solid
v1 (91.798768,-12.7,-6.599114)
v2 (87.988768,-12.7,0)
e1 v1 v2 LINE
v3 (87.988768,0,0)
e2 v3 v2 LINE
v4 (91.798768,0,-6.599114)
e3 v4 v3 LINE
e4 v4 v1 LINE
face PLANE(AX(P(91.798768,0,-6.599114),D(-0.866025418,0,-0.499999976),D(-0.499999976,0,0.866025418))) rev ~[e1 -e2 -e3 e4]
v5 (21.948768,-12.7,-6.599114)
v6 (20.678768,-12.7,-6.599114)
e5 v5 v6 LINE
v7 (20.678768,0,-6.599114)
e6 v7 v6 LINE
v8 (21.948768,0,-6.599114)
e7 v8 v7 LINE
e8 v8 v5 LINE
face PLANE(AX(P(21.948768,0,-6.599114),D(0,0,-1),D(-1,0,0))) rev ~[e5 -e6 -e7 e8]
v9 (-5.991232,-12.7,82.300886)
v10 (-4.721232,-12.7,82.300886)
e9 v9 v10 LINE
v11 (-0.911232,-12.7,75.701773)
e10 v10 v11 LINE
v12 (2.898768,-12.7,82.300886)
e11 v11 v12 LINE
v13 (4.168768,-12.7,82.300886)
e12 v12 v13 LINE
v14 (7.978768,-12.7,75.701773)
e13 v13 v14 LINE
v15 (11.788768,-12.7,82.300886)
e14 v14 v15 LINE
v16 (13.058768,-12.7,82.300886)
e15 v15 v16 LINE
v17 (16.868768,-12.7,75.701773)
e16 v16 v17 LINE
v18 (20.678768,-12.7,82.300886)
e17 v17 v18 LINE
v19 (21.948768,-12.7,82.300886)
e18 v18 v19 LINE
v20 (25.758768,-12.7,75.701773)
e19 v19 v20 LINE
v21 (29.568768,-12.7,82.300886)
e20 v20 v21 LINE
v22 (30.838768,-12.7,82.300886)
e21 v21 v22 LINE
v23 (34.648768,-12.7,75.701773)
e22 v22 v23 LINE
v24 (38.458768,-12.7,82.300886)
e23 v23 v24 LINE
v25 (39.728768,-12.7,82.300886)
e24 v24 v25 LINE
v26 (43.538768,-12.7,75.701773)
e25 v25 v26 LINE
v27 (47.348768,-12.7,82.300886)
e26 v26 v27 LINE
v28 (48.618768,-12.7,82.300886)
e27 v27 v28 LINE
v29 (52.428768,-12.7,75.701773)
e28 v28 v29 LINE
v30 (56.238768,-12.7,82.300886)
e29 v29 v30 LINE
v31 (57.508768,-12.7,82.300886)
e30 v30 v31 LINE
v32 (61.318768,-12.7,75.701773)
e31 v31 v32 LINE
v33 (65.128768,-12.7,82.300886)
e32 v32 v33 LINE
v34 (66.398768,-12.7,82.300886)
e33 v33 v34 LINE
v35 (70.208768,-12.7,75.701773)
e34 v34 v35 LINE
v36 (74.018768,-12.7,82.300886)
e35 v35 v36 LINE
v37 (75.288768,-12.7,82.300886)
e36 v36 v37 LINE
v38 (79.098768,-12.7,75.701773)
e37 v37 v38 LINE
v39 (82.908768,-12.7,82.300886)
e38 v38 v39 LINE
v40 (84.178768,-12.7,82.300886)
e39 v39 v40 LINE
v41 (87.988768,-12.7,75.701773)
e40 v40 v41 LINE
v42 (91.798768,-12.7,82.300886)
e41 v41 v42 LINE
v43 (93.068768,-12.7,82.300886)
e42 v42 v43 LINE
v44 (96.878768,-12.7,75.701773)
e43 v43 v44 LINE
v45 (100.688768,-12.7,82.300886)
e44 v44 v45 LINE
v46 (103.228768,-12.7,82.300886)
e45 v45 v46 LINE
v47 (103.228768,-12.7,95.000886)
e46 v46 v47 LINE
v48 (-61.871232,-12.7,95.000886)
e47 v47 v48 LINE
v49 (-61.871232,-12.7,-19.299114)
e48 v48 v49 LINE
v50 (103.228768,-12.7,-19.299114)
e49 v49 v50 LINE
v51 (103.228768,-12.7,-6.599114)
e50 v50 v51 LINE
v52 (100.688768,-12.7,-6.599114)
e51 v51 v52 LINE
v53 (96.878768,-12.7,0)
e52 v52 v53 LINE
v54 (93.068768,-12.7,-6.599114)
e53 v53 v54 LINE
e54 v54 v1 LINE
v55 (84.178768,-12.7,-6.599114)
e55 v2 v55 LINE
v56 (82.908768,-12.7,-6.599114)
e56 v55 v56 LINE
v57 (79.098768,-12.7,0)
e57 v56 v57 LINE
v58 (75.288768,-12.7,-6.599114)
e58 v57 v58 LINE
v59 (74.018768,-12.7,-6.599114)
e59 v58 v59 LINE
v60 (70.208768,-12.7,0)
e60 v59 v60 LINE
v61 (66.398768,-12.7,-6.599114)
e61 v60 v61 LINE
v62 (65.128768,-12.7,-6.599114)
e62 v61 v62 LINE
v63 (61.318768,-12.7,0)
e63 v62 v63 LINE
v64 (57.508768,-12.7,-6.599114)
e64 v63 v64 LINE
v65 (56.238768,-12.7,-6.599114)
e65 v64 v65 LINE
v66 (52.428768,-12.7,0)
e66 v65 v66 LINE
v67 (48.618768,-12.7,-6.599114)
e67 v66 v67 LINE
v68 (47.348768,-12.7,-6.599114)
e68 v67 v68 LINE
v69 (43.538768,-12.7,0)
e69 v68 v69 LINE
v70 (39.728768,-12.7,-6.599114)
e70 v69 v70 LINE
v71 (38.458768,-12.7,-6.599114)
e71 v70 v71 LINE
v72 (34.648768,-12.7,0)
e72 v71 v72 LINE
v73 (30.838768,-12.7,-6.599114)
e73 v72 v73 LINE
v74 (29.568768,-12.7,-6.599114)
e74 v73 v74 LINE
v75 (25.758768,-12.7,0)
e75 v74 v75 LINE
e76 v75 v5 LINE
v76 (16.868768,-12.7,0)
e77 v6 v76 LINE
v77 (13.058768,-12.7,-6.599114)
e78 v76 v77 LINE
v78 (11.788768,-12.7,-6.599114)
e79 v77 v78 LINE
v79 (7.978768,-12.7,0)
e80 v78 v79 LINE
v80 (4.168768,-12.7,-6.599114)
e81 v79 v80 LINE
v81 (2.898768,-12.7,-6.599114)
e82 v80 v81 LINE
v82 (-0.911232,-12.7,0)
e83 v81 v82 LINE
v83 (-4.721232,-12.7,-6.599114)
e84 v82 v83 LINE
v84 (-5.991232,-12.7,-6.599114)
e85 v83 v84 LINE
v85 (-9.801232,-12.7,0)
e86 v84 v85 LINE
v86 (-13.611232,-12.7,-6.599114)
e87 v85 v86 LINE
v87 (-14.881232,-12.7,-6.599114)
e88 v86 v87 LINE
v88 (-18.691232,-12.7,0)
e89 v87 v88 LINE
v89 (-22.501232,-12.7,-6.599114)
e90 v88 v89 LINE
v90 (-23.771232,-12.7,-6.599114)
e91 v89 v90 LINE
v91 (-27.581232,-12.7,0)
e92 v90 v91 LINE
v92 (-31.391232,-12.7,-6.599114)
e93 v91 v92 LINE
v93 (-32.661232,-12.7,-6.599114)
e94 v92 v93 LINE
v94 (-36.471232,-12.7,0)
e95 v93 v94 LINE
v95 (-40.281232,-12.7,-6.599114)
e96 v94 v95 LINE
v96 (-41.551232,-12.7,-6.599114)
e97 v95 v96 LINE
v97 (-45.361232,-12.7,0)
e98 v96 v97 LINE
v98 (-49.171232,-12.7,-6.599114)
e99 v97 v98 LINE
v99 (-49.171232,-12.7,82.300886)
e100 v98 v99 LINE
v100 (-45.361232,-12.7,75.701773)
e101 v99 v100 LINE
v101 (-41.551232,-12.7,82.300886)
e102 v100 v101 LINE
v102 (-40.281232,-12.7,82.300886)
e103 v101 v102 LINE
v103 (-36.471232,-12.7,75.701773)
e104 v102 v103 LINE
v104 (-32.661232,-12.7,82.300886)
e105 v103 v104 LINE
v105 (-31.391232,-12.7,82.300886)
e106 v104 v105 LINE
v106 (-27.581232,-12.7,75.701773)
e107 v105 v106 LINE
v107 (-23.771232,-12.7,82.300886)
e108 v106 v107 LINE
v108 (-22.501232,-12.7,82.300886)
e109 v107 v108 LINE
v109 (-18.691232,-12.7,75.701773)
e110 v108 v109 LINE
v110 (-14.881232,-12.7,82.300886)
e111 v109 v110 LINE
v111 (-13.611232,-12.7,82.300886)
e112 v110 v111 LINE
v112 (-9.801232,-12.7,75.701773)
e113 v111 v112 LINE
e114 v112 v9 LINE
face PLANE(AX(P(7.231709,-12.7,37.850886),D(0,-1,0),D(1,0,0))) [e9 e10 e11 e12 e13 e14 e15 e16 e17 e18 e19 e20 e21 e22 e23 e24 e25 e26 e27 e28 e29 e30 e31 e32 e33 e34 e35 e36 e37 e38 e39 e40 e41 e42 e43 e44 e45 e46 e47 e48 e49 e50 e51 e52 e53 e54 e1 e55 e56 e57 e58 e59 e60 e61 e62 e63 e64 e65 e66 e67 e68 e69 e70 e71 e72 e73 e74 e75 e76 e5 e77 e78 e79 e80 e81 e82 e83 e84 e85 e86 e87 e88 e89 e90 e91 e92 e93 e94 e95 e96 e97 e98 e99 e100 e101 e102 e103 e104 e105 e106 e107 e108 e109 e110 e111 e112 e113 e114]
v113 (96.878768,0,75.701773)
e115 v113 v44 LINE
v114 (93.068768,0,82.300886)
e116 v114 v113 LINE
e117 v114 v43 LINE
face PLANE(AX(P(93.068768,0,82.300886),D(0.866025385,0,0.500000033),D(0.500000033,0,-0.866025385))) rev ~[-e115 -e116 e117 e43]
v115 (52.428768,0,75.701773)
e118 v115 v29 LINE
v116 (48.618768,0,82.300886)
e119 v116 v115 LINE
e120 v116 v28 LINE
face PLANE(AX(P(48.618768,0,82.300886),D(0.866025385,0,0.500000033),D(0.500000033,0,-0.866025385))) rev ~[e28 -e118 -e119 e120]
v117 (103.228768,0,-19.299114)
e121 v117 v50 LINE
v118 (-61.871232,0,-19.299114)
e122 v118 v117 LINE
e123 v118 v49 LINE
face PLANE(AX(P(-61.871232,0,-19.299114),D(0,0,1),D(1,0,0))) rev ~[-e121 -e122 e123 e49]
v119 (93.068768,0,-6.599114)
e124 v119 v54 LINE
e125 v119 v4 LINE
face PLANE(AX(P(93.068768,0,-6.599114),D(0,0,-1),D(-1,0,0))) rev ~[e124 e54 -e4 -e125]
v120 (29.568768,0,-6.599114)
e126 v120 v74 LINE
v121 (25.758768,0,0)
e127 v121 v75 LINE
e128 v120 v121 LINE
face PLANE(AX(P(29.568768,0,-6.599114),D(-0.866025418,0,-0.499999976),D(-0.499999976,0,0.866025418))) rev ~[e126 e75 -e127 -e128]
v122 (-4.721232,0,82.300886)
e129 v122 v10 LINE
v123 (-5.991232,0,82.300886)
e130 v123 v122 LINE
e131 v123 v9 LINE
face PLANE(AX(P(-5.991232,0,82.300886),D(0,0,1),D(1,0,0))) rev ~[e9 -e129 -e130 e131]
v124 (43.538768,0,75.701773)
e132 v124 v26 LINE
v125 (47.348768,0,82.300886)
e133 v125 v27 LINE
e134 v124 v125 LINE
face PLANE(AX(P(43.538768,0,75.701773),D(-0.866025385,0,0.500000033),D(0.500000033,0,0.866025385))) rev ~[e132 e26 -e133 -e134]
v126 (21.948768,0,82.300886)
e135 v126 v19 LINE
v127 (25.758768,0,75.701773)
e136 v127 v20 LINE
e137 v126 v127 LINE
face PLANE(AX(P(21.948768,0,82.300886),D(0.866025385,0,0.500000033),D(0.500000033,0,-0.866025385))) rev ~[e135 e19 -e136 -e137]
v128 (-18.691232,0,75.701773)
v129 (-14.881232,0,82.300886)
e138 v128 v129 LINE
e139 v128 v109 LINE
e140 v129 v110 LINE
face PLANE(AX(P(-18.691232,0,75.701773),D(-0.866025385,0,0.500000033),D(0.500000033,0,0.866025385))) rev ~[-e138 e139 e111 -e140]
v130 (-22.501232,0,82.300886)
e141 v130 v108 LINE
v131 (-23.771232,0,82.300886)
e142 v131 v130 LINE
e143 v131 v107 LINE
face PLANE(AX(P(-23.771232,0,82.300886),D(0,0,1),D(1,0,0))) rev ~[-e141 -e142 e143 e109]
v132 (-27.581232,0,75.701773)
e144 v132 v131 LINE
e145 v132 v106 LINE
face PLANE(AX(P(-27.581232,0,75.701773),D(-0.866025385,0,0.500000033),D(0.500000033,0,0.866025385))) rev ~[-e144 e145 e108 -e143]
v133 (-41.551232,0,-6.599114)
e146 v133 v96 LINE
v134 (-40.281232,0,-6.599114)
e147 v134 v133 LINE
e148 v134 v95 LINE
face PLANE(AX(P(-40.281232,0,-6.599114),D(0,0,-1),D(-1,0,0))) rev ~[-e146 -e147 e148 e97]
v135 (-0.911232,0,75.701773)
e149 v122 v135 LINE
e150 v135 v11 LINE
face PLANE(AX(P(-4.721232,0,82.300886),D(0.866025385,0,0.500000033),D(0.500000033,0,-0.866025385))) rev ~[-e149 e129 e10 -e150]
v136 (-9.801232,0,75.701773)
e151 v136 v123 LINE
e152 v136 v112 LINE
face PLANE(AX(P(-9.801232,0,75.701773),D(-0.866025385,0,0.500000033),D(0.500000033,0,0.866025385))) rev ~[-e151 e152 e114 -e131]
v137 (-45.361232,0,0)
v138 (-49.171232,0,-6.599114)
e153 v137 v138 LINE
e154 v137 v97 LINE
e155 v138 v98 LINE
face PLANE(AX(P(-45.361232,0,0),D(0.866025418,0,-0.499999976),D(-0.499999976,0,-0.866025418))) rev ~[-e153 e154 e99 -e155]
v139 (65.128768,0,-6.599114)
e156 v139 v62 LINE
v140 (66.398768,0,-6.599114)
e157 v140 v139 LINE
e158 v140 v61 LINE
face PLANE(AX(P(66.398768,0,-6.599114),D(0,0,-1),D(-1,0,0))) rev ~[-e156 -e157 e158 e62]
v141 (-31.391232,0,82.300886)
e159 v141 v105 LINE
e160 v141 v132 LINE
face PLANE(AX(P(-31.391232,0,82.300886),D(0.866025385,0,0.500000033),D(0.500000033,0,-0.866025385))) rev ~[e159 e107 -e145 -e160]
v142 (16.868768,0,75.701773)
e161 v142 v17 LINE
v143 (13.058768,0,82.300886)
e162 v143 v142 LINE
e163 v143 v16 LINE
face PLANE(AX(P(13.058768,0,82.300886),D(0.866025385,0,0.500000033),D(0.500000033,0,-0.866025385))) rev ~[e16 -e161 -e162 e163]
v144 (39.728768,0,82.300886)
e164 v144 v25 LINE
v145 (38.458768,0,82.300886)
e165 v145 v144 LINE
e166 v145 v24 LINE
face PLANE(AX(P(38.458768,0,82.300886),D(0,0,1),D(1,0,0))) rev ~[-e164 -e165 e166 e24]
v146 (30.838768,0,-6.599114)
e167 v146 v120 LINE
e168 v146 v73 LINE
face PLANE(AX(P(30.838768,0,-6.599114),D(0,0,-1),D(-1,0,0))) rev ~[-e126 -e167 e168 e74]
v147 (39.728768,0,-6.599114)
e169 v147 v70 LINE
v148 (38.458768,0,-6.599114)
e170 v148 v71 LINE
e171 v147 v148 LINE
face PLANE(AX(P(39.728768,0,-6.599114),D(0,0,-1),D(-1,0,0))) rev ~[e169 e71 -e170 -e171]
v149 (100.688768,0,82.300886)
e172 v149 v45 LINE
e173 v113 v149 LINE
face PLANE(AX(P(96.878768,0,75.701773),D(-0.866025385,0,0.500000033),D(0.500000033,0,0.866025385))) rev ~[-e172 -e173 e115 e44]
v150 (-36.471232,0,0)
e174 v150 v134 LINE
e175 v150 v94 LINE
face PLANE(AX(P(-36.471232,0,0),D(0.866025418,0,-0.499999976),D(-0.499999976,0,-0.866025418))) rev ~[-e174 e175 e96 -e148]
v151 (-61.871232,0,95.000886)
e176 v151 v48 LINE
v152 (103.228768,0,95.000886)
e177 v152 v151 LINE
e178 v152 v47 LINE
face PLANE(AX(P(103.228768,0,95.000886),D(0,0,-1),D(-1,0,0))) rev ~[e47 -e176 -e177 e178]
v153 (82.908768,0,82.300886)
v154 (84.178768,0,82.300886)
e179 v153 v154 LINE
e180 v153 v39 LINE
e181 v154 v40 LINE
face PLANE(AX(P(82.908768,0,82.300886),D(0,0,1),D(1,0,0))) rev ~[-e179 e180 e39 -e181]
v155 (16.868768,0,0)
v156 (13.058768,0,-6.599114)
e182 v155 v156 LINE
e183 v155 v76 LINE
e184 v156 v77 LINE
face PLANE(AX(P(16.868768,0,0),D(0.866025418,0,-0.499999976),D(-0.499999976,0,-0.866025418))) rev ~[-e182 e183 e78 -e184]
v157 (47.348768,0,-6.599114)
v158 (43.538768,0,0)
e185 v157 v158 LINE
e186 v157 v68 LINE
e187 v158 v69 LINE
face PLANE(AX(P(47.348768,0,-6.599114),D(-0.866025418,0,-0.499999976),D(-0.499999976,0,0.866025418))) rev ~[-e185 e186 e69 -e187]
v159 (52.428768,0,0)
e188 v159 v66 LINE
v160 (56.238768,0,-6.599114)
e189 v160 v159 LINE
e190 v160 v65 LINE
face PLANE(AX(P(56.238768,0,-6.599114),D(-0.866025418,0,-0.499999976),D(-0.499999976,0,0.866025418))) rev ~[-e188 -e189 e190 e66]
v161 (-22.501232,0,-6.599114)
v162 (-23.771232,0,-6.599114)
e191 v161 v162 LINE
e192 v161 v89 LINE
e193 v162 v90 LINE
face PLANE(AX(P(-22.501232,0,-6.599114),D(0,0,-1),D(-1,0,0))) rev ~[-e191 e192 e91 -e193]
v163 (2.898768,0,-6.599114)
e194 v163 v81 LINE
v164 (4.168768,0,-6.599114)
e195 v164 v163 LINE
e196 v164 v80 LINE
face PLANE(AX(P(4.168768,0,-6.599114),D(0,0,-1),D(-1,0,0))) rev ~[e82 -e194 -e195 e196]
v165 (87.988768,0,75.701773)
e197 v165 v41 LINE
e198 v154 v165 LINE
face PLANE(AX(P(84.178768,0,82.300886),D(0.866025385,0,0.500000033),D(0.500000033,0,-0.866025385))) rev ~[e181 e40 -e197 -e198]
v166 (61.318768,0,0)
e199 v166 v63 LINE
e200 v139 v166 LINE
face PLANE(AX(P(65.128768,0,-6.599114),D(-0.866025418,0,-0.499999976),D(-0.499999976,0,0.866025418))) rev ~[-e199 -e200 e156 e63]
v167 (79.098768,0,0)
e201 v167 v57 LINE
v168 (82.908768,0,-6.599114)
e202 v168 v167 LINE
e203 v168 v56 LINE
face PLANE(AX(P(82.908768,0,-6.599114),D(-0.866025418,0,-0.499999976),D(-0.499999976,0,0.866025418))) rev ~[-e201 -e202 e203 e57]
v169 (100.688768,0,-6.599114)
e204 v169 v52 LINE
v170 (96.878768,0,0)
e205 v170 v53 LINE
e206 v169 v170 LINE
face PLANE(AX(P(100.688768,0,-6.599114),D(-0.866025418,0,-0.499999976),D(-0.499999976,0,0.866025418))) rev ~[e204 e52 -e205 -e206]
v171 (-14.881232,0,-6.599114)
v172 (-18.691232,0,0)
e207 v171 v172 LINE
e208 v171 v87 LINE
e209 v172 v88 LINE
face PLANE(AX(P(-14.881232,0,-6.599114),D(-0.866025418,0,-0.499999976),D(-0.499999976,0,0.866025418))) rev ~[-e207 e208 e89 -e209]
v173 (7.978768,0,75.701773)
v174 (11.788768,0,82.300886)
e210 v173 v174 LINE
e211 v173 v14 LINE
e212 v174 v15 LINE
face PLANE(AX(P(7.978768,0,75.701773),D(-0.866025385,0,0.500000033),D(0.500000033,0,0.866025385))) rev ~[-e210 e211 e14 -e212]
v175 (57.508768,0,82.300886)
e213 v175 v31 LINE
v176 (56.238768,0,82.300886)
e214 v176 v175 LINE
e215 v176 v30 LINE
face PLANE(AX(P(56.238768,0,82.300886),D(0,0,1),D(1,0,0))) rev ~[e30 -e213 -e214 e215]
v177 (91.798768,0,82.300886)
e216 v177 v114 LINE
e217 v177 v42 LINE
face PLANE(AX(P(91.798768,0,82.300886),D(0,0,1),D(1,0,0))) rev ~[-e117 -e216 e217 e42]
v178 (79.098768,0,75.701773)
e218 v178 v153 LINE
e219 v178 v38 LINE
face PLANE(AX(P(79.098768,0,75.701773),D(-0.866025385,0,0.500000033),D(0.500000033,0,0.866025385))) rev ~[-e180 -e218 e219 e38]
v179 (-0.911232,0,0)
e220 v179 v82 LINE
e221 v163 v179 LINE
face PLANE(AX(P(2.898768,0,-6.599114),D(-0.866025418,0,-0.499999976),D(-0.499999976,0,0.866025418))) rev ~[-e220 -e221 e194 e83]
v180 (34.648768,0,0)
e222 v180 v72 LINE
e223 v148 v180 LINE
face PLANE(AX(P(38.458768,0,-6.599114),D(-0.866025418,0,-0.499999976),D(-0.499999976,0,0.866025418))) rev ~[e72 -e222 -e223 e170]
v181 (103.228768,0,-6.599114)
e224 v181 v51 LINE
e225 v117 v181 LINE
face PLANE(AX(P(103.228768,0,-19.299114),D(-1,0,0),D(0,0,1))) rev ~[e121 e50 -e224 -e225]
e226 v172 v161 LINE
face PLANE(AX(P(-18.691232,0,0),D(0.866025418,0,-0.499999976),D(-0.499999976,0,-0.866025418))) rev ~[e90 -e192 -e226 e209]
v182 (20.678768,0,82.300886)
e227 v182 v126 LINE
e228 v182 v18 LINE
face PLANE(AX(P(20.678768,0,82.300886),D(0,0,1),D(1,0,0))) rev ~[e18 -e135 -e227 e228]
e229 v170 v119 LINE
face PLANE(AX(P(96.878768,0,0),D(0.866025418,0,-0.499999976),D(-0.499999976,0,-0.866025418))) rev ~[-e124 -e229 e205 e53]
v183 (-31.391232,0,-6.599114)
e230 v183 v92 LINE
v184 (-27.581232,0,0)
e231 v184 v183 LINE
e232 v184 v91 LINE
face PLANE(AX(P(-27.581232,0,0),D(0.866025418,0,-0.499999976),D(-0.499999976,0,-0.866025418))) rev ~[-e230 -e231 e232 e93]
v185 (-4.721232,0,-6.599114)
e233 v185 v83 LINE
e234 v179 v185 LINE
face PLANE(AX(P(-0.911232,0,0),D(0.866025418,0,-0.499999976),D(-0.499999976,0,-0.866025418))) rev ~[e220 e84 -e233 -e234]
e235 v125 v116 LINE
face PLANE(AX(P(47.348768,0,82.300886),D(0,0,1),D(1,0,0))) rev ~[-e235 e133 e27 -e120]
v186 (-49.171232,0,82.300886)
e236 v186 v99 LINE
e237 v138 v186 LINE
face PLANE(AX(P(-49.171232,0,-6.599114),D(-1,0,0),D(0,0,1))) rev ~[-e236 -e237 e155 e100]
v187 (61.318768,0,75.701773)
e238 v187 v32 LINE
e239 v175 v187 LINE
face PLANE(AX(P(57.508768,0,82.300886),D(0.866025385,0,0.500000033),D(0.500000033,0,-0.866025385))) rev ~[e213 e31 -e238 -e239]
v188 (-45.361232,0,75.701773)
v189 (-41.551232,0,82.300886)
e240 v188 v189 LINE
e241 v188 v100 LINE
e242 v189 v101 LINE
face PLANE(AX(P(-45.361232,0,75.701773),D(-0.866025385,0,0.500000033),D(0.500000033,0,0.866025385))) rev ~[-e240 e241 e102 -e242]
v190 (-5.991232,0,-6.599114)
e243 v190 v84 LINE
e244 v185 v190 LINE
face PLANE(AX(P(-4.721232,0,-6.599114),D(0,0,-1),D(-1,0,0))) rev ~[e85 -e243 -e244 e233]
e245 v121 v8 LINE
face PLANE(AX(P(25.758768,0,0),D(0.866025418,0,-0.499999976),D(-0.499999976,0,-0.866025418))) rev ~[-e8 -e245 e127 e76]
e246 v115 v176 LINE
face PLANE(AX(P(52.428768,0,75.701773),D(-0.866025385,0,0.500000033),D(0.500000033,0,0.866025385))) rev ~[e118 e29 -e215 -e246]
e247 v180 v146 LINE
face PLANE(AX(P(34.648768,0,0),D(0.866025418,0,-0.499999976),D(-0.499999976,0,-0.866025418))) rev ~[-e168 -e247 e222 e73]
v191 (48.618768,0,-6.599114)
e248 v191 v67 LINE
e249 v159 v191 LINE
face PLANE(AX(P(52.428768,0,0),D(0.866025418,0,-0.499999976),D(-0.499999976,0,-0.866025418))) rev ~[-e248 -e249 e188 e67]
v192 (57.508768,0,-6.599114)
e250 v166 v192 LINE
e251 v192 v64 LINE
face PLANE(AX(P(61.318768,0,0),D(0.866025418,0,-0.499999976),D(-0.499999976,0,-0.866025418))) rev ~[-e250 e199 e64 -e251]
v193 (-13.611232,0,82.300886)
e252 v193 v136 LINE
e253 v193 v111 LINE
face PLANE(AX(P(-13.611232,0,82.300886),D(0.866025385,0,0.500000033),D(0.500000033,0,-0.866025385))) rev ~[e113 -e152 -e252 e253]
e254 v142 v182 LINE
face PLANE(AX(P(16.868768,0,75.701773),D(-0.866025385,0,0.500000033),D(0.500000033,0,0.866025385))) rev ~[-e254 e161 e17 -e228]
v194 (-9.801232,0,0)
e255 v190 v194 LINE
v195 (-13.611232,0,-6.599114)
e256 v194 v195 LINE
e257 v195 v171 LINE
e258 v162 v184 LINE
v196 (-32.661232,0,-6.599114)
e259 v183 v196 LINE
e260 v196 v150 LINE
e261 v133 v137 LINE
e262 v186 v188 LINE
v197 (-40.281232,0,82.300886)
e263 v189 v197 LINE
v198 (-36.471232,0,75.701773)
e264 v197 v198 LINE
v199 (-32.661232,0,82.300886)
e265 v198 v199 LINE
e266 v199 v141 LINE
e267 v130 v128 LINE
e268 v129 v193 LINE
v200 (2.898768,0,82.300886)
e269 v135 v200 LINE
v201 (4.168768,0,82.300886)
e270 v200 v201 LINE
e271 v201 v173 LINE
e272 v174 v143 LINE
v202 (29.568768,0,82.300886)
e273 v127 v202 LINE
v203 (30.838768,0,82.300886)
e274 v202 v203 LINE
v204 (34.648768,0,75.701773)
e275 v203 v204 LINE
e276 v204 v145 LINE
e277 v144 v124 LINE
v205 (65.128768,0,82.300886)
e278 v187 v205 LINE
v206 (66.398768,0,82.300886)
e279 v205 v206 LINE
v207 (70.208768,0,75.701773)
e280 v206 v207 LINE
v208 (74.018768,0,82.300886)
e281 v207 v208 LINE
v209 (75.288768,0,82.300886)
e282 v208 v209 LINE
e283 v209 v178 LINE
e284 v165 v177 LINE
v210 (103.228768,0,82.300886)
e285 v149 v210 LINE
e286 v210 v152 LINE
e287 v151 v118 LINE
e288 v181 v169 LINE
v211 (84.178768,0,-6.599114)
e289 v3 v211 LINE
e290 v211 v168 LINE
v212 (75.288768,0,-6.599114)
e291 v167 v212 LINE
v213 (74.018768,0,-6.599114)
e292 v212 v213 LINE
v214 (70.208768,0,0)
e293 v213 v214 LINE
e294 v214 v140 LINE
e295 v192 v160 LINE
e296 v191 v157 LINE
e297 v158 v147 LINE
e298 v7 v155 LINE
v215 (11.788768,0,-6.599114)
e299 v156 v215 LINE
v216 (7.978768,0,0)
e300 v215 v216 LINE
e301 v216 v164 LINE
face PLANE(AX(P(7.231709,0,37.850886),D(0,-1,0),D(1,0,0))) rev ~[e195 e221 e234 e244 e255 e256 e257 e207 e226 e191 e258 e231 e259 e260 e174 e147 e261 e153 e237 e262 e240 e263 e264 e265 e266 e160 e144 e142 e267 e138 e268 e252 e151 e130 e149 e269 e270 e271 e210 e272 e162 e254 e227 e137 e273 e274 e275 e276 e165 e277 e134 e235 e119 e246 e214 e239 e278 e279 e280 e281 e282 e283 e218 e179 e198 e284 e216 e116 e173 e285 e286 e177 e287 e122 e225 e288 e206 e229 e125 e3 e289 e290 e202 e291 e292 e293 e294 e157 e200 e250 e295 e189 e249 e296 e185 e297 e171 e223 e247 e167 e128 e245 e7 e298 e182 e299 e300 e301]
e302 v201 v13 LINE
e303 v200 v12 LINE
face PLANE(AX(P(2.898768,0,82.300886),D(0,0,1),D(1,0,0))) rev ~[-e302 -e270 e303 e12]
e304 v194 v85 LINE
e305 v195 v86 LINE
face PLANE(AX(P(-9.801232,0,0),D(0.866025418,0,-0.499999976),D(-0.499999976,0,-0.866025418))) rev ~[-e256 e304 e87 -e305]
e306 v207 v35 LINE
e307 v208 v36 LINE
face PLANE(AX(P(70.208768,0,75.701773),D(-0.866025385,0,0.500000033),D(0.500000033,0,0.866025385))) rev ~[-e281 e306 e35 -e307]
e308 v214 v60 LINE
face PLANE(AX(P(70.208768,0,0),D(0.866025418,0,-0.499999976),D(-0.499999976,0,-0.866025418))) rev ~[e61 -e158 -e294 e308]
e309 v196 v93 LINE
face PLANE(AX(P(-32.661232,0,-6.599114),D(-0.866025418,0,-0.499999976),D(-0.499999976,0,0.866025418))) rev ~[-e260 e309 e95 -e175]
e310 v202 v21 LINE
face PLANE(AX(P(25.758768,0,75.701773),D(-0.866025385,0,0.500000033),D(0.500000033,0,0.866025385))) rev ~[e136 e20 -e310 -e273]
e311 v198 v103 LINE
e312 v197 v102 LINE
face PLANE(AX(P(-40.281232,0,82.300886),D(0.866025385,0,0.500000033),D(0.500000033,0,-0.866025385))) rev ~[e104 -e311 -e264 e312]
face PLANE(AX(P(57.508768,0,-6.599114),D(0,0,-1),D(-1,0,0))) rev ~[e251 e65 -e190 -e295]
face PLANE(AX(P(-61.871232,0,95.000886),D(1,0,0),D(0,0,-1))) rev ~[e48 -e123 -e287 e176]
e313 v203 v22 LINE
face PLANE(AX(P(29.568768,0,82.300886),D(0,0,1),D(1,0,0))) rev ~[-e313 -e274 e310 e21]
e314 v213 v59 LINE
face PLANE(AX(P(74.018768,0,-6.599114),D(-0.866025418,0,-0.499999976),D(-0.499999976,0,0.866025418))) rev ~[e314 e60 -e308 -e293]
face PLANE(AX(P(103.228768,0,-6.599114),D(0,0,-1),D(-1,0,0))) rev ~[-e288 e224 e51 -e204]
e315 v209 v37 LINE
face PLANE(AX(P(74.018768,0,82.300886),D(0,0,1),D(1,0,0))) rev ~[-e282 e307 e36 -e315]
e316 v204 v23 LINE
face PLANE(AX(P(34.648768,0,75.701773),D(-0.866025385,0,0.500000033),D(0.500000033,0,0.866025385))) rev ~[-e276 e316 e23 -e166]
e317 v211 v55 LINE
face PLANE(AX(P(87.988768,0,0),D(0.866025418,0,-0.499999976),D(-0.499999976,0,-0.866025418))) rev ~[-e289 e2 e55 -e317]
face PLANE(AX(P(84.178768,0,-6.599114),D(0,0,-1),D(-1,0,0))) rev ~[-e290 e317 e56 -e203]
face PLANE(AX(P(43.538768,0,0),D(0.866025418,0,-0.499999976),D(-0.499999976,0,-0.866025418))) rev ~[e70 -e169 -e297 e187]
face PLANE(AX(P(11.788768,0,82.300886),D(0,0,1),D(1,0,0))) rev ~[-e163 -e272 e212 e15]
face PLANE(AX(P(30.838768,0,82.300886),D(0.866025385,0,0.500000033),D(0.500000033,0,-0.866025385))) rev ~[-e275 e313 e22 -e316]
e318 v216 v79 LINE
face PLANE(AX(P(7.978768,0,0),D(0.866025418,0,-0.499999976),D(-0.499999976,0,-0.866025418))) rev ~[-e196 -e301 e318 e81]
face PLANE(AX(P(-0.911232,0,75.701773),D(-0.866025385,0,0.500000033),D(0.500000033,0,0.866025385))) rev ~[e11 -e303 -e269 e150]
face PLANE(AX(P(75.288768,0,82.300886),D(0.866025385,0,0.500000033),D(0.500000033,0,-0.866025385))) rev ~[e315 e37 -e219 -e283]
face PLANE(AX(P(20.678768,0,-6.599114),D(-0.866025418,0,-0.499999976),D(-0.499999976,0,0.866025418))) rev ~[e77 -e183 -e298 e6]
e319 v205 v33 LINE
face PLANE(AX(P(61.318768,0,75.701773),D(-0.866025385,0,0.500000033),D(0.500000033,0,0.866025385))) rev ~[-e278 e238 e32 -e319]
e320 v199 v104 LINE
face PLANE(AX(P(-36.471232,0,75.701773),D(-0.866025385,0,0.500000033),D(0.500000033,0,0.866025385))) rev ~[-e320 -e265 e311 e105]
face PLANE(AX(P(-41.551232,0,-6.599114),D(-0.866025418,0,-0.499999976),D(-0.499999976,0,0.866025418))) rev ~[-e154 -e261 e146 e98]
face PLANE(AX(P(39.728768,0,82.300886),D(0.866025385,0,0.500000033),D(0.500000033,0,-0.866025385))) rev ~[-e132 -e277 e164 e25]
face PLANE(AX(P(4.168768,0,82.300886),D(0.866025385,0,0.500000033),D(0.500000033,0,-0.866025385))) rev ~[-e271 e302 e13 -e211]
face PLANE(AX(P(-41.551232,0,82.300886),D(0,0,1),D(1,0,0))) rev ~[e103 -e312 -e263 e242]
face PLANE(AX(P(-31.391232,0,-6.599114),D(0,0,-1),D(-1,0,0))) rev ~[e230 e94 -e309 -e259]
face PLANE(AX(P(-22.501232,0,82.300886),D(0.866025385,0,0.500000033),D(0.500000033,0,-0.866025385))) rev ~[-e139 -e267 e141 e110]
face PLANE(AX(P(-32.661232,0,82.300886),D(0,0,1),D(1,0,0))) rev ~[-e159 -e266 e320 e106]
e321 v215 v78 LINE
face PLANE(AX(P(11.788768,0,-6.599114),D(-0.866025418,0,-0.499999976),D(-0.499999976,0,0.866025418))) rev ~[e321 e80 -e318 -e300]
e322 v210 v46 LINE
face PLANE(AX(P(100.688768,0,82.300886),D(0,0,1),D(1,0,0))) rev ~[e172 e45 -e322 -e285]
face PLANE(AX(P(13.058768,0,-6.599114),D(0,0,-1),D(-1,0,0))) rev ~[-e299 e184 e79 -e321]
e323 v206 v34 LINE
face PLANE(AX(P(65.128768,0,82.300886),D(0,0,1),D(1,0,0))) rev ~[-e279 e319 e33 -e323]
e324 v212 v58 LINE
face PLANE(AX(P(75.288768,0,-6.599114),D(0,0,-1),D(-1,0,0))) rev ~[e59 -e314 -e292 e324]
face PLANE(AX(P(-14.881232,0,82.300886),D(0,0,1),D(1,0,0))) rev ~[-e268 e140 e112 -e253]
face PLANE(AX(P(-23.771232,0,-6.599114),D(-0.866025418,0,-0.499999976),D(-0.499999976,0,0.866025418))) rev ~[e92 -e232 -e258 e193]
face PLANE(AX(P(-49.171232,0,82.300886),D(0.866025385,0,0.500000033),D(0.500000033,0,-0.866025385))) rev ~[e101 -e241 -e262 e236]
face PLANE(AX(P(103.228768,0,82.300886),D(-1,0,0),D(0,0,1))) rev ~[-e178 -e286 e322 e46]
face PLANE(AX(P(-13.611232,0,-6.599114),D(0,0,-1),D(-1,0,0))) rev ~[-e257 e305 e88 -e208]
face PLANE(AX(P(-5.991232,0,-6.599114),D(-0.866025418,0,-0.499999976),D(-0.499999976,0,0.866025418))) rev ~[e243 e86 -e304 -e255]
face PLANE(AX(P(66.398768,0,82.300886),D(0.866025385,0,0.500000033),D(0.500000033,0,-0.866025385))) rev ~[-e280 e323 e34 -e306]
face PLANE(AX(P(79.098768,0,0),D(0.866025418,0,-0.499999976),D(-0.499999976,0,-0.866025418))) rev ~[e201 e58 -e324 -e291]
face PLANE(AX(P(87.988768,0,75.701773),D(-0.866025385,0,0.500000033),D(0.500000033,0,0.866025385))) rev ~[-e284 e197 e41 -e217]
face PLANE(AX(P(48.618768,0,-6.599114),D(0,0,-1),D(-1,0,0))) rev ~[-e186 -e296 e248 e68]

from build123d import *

# Parameters (mm, degrees)
F1_DEPTH = 12.7


with BuildPart() as f1:
    # F0 (on Front) → F1 (new body)
    with BuildSketch(Plane.XZ):
        Polygon((-49.171232, -6.599114), (-49.171232, 82.300886), (-41.551232, 82.300886), (-40.281232, 82.300886), (-32.661232, 82.300886), (-31.391232, 82.300886), (-23.771232, 82.300886), (-22.501232, 82.300886), (-14.881232, 82.300886), (-13.611232, 82.300886), (-5.991232, 82.300886), (-4.721232, 82.300886), (2.898768, 82.300886), (4.168768, 82.300886), (11.788768, 82.300886), (13.058768, 82.300886), (20.678768, 82.300886), (21.948768, 82.300886), (29.568768, 82.300886), (30.838768, 82.300886), (38.458768, 82.300886), (39.728768, 82.300886), (47.348768, 82.300886), (48.618768, 82.300886), (56.238768, 82.300886), (57.508768, 82.300886), (65.128768, 82.300886), (66.398768, 82.300886), (74.018768, 82.300886), (75.288768, 82.300886), (82.908768, 82.300886), (84.178768, 82.300886), (91.798768, 82.300886), (93.068768, 82.300886), (100.688768, 82.300886), (103.228768, 82.300886), (103.228768, 95.000886), (-61.871232, 95.000886), (-61.871232, -19.299114), (81.130768, -19.299114), (103.228768, -19.299114), (103.228768, -6.599114), (100.688768, -6.599114), (93.068768, -6.599114), (91.798768, -6.599114), (84.178768, -6.599114), (82.908768, -6.599114), (75.288768, -6.599114), (74.018768, -6.599114), (66.398768, -6.599114), (65.128768, -6.599114), (57.508768, -6.599114), (56.238768, -6.599114), (48.618768, -6.599114), (47.348768, -6.599114), (39.728768, -6.599114), (38.458768, -6.599114), (30.838768, -6.599114), (29.568768, -6.599114), (21.948768, -6.599114), (20.678768, -6.599114), (13.058768, -6.599114), (11.788768, -6.599114), (4.168768, -6.599114), (2.898768, -6.599114), (-4.721232, -6.599114), (-5.991232, -6.599114), (-13.611232, -6.599114), (-14.881232, -6.599114), (-22.501232, -6.599114), (-23.771232, -6.599114), (-31.391232, -6.599114), (-32.661232, -6.599114), (-40.281232, -6.599114), (-41.551232, -6.599114), align=None)
        Polygon((-41.551232, 82.300886), (-49.171232, 82.300886), (-45.361232, 75.701773), align=None)
        Polygon((-45.361232, 0), (-49.171232, -6.599114), (-41.551232, -6.599114), align=None)
        Polygon((-32.661232, 82.300886), (-40.281232, 82.300886), (-36.471232, 75.701773), align=None)
        Polygon((-36.471232, 0), (-40.281232, -6.599114), (-32.661232, -6.599114), align=None)
        Polygon((-23.771232, 82.300886), (-31.391232, 82.300886), (-27.581232, 75.701773), align=None)
        Polygon((-27.581232, 0), (-31.391232, -6.599114), (-23.771232, -6.599114), align=None)
        Polygon((-14.881232, 82.300886), (-22.501232, 82.300886), (-18.691232, 75.701773), align=None)
        Polygon((-18.691232, 0), (-22.501232, -6.599114), (-14.881232, -6.599114), align=None)
        Polygon((-5.991232, 82.300886), (-13.611232, 82.300886), (-9.801232, 75.701773), align=None)
        Polygon((-9.801232, 0), (-13.611232, -6.599114), (-5.991232, -6.599114), align=None)
        Polygon((2.898768, 82.300886), (-4.721232, 82.300886), (-0.911232, 75.701773), align=None)
        Polygon((-0.911232, 0), (-4.721232, -6.599114), (2.898768, -6.599114), align=None)
        Polygon((11.788768, 82.300886), (4.168768, 82.300886), (7.978768, 75.701773), align=None)
        Polygon((7.978768, 0), (4.168768, -6.599114), (11.788768, -6.599114), align=None)
        Polygon((20.678768, 82.300886), (13.058768, 82.300886), (16.868768, 75.701773), align=None)
        Polygon((16.868768, 0), (13.058768, -6.599114), (20.678768, -6.599114), align=None)
        Polygon((29.568768, 82.300886), (21.948768, 82.300886), (25.758768, 75.701773), align=None)
        Polygon((25.758768, 0), (21.948768, -6.599114), (29.568768, -6.599114), align=None)
        Polygon((38.458768, 82.300886), (30.838768, 82.300886), (34.648768, 75.701773), align=None)
        Polygon((34.648768, 0), (30.838768, -6.599114), (38.458768, -6.599114), align=None)
        Polygon((47.348768, 82.300886), (39.728768, 82.300886), (43.538768, 75.701773), align=None)
        Polygon((43.538768, 0), (39.728768, -6.599114), (47.348768, -6.599114), align=None)
        Polygon((56.238768, 82.300886), (48.618768, 82.300886), (52.428768, 75.701773), align=None)
        Polygon((52.428768, 0), (48.618768, -6.599114), (56.238768, -6.599114), align=None)
        Polygon((65.128768, 82.300886), (57.508768, 82.300886), (61.318768, 75.701773), align=None)
        Polygon((61.318768, 0), (57.508768, -6.599114), (65.128768, -6.599114), align=None)
        Polygon((74.018768, 82.300886), (66.398768, 82.300886), (70.208768, 75.701773), align=None)
        Polygon((70.208768, 0), (66.398768, -6.599114), (74.018768, -6.599114), align=None)
        Polygon((82.908768, 82.300886), (75.288768, 82.300886), (79.098768, 75.701773), align=None)
        Polygon((79.098768, 0), (75.288768, -6.599114), (82.908768, -6.599114), align=None)
        Polygon((91.798768, 82.300886), (84.178768, 82.300886), (87.988768, 75.701773), align=None)
        Polygon((87.988768, 0), (84.178768, -6.599114), (91.798768, -6.599114), align=None)
        Polygon((100.688768, 82.300886), (93.068768, 82.300886), (96.878768, 75.701773), align=None)
        Polygon((96.878768, 0), (93.068768, -6.599114), (100.688768, -6.599114), align=None)
    extrude(amount=F1_DEPTH)


solid = f1.part
